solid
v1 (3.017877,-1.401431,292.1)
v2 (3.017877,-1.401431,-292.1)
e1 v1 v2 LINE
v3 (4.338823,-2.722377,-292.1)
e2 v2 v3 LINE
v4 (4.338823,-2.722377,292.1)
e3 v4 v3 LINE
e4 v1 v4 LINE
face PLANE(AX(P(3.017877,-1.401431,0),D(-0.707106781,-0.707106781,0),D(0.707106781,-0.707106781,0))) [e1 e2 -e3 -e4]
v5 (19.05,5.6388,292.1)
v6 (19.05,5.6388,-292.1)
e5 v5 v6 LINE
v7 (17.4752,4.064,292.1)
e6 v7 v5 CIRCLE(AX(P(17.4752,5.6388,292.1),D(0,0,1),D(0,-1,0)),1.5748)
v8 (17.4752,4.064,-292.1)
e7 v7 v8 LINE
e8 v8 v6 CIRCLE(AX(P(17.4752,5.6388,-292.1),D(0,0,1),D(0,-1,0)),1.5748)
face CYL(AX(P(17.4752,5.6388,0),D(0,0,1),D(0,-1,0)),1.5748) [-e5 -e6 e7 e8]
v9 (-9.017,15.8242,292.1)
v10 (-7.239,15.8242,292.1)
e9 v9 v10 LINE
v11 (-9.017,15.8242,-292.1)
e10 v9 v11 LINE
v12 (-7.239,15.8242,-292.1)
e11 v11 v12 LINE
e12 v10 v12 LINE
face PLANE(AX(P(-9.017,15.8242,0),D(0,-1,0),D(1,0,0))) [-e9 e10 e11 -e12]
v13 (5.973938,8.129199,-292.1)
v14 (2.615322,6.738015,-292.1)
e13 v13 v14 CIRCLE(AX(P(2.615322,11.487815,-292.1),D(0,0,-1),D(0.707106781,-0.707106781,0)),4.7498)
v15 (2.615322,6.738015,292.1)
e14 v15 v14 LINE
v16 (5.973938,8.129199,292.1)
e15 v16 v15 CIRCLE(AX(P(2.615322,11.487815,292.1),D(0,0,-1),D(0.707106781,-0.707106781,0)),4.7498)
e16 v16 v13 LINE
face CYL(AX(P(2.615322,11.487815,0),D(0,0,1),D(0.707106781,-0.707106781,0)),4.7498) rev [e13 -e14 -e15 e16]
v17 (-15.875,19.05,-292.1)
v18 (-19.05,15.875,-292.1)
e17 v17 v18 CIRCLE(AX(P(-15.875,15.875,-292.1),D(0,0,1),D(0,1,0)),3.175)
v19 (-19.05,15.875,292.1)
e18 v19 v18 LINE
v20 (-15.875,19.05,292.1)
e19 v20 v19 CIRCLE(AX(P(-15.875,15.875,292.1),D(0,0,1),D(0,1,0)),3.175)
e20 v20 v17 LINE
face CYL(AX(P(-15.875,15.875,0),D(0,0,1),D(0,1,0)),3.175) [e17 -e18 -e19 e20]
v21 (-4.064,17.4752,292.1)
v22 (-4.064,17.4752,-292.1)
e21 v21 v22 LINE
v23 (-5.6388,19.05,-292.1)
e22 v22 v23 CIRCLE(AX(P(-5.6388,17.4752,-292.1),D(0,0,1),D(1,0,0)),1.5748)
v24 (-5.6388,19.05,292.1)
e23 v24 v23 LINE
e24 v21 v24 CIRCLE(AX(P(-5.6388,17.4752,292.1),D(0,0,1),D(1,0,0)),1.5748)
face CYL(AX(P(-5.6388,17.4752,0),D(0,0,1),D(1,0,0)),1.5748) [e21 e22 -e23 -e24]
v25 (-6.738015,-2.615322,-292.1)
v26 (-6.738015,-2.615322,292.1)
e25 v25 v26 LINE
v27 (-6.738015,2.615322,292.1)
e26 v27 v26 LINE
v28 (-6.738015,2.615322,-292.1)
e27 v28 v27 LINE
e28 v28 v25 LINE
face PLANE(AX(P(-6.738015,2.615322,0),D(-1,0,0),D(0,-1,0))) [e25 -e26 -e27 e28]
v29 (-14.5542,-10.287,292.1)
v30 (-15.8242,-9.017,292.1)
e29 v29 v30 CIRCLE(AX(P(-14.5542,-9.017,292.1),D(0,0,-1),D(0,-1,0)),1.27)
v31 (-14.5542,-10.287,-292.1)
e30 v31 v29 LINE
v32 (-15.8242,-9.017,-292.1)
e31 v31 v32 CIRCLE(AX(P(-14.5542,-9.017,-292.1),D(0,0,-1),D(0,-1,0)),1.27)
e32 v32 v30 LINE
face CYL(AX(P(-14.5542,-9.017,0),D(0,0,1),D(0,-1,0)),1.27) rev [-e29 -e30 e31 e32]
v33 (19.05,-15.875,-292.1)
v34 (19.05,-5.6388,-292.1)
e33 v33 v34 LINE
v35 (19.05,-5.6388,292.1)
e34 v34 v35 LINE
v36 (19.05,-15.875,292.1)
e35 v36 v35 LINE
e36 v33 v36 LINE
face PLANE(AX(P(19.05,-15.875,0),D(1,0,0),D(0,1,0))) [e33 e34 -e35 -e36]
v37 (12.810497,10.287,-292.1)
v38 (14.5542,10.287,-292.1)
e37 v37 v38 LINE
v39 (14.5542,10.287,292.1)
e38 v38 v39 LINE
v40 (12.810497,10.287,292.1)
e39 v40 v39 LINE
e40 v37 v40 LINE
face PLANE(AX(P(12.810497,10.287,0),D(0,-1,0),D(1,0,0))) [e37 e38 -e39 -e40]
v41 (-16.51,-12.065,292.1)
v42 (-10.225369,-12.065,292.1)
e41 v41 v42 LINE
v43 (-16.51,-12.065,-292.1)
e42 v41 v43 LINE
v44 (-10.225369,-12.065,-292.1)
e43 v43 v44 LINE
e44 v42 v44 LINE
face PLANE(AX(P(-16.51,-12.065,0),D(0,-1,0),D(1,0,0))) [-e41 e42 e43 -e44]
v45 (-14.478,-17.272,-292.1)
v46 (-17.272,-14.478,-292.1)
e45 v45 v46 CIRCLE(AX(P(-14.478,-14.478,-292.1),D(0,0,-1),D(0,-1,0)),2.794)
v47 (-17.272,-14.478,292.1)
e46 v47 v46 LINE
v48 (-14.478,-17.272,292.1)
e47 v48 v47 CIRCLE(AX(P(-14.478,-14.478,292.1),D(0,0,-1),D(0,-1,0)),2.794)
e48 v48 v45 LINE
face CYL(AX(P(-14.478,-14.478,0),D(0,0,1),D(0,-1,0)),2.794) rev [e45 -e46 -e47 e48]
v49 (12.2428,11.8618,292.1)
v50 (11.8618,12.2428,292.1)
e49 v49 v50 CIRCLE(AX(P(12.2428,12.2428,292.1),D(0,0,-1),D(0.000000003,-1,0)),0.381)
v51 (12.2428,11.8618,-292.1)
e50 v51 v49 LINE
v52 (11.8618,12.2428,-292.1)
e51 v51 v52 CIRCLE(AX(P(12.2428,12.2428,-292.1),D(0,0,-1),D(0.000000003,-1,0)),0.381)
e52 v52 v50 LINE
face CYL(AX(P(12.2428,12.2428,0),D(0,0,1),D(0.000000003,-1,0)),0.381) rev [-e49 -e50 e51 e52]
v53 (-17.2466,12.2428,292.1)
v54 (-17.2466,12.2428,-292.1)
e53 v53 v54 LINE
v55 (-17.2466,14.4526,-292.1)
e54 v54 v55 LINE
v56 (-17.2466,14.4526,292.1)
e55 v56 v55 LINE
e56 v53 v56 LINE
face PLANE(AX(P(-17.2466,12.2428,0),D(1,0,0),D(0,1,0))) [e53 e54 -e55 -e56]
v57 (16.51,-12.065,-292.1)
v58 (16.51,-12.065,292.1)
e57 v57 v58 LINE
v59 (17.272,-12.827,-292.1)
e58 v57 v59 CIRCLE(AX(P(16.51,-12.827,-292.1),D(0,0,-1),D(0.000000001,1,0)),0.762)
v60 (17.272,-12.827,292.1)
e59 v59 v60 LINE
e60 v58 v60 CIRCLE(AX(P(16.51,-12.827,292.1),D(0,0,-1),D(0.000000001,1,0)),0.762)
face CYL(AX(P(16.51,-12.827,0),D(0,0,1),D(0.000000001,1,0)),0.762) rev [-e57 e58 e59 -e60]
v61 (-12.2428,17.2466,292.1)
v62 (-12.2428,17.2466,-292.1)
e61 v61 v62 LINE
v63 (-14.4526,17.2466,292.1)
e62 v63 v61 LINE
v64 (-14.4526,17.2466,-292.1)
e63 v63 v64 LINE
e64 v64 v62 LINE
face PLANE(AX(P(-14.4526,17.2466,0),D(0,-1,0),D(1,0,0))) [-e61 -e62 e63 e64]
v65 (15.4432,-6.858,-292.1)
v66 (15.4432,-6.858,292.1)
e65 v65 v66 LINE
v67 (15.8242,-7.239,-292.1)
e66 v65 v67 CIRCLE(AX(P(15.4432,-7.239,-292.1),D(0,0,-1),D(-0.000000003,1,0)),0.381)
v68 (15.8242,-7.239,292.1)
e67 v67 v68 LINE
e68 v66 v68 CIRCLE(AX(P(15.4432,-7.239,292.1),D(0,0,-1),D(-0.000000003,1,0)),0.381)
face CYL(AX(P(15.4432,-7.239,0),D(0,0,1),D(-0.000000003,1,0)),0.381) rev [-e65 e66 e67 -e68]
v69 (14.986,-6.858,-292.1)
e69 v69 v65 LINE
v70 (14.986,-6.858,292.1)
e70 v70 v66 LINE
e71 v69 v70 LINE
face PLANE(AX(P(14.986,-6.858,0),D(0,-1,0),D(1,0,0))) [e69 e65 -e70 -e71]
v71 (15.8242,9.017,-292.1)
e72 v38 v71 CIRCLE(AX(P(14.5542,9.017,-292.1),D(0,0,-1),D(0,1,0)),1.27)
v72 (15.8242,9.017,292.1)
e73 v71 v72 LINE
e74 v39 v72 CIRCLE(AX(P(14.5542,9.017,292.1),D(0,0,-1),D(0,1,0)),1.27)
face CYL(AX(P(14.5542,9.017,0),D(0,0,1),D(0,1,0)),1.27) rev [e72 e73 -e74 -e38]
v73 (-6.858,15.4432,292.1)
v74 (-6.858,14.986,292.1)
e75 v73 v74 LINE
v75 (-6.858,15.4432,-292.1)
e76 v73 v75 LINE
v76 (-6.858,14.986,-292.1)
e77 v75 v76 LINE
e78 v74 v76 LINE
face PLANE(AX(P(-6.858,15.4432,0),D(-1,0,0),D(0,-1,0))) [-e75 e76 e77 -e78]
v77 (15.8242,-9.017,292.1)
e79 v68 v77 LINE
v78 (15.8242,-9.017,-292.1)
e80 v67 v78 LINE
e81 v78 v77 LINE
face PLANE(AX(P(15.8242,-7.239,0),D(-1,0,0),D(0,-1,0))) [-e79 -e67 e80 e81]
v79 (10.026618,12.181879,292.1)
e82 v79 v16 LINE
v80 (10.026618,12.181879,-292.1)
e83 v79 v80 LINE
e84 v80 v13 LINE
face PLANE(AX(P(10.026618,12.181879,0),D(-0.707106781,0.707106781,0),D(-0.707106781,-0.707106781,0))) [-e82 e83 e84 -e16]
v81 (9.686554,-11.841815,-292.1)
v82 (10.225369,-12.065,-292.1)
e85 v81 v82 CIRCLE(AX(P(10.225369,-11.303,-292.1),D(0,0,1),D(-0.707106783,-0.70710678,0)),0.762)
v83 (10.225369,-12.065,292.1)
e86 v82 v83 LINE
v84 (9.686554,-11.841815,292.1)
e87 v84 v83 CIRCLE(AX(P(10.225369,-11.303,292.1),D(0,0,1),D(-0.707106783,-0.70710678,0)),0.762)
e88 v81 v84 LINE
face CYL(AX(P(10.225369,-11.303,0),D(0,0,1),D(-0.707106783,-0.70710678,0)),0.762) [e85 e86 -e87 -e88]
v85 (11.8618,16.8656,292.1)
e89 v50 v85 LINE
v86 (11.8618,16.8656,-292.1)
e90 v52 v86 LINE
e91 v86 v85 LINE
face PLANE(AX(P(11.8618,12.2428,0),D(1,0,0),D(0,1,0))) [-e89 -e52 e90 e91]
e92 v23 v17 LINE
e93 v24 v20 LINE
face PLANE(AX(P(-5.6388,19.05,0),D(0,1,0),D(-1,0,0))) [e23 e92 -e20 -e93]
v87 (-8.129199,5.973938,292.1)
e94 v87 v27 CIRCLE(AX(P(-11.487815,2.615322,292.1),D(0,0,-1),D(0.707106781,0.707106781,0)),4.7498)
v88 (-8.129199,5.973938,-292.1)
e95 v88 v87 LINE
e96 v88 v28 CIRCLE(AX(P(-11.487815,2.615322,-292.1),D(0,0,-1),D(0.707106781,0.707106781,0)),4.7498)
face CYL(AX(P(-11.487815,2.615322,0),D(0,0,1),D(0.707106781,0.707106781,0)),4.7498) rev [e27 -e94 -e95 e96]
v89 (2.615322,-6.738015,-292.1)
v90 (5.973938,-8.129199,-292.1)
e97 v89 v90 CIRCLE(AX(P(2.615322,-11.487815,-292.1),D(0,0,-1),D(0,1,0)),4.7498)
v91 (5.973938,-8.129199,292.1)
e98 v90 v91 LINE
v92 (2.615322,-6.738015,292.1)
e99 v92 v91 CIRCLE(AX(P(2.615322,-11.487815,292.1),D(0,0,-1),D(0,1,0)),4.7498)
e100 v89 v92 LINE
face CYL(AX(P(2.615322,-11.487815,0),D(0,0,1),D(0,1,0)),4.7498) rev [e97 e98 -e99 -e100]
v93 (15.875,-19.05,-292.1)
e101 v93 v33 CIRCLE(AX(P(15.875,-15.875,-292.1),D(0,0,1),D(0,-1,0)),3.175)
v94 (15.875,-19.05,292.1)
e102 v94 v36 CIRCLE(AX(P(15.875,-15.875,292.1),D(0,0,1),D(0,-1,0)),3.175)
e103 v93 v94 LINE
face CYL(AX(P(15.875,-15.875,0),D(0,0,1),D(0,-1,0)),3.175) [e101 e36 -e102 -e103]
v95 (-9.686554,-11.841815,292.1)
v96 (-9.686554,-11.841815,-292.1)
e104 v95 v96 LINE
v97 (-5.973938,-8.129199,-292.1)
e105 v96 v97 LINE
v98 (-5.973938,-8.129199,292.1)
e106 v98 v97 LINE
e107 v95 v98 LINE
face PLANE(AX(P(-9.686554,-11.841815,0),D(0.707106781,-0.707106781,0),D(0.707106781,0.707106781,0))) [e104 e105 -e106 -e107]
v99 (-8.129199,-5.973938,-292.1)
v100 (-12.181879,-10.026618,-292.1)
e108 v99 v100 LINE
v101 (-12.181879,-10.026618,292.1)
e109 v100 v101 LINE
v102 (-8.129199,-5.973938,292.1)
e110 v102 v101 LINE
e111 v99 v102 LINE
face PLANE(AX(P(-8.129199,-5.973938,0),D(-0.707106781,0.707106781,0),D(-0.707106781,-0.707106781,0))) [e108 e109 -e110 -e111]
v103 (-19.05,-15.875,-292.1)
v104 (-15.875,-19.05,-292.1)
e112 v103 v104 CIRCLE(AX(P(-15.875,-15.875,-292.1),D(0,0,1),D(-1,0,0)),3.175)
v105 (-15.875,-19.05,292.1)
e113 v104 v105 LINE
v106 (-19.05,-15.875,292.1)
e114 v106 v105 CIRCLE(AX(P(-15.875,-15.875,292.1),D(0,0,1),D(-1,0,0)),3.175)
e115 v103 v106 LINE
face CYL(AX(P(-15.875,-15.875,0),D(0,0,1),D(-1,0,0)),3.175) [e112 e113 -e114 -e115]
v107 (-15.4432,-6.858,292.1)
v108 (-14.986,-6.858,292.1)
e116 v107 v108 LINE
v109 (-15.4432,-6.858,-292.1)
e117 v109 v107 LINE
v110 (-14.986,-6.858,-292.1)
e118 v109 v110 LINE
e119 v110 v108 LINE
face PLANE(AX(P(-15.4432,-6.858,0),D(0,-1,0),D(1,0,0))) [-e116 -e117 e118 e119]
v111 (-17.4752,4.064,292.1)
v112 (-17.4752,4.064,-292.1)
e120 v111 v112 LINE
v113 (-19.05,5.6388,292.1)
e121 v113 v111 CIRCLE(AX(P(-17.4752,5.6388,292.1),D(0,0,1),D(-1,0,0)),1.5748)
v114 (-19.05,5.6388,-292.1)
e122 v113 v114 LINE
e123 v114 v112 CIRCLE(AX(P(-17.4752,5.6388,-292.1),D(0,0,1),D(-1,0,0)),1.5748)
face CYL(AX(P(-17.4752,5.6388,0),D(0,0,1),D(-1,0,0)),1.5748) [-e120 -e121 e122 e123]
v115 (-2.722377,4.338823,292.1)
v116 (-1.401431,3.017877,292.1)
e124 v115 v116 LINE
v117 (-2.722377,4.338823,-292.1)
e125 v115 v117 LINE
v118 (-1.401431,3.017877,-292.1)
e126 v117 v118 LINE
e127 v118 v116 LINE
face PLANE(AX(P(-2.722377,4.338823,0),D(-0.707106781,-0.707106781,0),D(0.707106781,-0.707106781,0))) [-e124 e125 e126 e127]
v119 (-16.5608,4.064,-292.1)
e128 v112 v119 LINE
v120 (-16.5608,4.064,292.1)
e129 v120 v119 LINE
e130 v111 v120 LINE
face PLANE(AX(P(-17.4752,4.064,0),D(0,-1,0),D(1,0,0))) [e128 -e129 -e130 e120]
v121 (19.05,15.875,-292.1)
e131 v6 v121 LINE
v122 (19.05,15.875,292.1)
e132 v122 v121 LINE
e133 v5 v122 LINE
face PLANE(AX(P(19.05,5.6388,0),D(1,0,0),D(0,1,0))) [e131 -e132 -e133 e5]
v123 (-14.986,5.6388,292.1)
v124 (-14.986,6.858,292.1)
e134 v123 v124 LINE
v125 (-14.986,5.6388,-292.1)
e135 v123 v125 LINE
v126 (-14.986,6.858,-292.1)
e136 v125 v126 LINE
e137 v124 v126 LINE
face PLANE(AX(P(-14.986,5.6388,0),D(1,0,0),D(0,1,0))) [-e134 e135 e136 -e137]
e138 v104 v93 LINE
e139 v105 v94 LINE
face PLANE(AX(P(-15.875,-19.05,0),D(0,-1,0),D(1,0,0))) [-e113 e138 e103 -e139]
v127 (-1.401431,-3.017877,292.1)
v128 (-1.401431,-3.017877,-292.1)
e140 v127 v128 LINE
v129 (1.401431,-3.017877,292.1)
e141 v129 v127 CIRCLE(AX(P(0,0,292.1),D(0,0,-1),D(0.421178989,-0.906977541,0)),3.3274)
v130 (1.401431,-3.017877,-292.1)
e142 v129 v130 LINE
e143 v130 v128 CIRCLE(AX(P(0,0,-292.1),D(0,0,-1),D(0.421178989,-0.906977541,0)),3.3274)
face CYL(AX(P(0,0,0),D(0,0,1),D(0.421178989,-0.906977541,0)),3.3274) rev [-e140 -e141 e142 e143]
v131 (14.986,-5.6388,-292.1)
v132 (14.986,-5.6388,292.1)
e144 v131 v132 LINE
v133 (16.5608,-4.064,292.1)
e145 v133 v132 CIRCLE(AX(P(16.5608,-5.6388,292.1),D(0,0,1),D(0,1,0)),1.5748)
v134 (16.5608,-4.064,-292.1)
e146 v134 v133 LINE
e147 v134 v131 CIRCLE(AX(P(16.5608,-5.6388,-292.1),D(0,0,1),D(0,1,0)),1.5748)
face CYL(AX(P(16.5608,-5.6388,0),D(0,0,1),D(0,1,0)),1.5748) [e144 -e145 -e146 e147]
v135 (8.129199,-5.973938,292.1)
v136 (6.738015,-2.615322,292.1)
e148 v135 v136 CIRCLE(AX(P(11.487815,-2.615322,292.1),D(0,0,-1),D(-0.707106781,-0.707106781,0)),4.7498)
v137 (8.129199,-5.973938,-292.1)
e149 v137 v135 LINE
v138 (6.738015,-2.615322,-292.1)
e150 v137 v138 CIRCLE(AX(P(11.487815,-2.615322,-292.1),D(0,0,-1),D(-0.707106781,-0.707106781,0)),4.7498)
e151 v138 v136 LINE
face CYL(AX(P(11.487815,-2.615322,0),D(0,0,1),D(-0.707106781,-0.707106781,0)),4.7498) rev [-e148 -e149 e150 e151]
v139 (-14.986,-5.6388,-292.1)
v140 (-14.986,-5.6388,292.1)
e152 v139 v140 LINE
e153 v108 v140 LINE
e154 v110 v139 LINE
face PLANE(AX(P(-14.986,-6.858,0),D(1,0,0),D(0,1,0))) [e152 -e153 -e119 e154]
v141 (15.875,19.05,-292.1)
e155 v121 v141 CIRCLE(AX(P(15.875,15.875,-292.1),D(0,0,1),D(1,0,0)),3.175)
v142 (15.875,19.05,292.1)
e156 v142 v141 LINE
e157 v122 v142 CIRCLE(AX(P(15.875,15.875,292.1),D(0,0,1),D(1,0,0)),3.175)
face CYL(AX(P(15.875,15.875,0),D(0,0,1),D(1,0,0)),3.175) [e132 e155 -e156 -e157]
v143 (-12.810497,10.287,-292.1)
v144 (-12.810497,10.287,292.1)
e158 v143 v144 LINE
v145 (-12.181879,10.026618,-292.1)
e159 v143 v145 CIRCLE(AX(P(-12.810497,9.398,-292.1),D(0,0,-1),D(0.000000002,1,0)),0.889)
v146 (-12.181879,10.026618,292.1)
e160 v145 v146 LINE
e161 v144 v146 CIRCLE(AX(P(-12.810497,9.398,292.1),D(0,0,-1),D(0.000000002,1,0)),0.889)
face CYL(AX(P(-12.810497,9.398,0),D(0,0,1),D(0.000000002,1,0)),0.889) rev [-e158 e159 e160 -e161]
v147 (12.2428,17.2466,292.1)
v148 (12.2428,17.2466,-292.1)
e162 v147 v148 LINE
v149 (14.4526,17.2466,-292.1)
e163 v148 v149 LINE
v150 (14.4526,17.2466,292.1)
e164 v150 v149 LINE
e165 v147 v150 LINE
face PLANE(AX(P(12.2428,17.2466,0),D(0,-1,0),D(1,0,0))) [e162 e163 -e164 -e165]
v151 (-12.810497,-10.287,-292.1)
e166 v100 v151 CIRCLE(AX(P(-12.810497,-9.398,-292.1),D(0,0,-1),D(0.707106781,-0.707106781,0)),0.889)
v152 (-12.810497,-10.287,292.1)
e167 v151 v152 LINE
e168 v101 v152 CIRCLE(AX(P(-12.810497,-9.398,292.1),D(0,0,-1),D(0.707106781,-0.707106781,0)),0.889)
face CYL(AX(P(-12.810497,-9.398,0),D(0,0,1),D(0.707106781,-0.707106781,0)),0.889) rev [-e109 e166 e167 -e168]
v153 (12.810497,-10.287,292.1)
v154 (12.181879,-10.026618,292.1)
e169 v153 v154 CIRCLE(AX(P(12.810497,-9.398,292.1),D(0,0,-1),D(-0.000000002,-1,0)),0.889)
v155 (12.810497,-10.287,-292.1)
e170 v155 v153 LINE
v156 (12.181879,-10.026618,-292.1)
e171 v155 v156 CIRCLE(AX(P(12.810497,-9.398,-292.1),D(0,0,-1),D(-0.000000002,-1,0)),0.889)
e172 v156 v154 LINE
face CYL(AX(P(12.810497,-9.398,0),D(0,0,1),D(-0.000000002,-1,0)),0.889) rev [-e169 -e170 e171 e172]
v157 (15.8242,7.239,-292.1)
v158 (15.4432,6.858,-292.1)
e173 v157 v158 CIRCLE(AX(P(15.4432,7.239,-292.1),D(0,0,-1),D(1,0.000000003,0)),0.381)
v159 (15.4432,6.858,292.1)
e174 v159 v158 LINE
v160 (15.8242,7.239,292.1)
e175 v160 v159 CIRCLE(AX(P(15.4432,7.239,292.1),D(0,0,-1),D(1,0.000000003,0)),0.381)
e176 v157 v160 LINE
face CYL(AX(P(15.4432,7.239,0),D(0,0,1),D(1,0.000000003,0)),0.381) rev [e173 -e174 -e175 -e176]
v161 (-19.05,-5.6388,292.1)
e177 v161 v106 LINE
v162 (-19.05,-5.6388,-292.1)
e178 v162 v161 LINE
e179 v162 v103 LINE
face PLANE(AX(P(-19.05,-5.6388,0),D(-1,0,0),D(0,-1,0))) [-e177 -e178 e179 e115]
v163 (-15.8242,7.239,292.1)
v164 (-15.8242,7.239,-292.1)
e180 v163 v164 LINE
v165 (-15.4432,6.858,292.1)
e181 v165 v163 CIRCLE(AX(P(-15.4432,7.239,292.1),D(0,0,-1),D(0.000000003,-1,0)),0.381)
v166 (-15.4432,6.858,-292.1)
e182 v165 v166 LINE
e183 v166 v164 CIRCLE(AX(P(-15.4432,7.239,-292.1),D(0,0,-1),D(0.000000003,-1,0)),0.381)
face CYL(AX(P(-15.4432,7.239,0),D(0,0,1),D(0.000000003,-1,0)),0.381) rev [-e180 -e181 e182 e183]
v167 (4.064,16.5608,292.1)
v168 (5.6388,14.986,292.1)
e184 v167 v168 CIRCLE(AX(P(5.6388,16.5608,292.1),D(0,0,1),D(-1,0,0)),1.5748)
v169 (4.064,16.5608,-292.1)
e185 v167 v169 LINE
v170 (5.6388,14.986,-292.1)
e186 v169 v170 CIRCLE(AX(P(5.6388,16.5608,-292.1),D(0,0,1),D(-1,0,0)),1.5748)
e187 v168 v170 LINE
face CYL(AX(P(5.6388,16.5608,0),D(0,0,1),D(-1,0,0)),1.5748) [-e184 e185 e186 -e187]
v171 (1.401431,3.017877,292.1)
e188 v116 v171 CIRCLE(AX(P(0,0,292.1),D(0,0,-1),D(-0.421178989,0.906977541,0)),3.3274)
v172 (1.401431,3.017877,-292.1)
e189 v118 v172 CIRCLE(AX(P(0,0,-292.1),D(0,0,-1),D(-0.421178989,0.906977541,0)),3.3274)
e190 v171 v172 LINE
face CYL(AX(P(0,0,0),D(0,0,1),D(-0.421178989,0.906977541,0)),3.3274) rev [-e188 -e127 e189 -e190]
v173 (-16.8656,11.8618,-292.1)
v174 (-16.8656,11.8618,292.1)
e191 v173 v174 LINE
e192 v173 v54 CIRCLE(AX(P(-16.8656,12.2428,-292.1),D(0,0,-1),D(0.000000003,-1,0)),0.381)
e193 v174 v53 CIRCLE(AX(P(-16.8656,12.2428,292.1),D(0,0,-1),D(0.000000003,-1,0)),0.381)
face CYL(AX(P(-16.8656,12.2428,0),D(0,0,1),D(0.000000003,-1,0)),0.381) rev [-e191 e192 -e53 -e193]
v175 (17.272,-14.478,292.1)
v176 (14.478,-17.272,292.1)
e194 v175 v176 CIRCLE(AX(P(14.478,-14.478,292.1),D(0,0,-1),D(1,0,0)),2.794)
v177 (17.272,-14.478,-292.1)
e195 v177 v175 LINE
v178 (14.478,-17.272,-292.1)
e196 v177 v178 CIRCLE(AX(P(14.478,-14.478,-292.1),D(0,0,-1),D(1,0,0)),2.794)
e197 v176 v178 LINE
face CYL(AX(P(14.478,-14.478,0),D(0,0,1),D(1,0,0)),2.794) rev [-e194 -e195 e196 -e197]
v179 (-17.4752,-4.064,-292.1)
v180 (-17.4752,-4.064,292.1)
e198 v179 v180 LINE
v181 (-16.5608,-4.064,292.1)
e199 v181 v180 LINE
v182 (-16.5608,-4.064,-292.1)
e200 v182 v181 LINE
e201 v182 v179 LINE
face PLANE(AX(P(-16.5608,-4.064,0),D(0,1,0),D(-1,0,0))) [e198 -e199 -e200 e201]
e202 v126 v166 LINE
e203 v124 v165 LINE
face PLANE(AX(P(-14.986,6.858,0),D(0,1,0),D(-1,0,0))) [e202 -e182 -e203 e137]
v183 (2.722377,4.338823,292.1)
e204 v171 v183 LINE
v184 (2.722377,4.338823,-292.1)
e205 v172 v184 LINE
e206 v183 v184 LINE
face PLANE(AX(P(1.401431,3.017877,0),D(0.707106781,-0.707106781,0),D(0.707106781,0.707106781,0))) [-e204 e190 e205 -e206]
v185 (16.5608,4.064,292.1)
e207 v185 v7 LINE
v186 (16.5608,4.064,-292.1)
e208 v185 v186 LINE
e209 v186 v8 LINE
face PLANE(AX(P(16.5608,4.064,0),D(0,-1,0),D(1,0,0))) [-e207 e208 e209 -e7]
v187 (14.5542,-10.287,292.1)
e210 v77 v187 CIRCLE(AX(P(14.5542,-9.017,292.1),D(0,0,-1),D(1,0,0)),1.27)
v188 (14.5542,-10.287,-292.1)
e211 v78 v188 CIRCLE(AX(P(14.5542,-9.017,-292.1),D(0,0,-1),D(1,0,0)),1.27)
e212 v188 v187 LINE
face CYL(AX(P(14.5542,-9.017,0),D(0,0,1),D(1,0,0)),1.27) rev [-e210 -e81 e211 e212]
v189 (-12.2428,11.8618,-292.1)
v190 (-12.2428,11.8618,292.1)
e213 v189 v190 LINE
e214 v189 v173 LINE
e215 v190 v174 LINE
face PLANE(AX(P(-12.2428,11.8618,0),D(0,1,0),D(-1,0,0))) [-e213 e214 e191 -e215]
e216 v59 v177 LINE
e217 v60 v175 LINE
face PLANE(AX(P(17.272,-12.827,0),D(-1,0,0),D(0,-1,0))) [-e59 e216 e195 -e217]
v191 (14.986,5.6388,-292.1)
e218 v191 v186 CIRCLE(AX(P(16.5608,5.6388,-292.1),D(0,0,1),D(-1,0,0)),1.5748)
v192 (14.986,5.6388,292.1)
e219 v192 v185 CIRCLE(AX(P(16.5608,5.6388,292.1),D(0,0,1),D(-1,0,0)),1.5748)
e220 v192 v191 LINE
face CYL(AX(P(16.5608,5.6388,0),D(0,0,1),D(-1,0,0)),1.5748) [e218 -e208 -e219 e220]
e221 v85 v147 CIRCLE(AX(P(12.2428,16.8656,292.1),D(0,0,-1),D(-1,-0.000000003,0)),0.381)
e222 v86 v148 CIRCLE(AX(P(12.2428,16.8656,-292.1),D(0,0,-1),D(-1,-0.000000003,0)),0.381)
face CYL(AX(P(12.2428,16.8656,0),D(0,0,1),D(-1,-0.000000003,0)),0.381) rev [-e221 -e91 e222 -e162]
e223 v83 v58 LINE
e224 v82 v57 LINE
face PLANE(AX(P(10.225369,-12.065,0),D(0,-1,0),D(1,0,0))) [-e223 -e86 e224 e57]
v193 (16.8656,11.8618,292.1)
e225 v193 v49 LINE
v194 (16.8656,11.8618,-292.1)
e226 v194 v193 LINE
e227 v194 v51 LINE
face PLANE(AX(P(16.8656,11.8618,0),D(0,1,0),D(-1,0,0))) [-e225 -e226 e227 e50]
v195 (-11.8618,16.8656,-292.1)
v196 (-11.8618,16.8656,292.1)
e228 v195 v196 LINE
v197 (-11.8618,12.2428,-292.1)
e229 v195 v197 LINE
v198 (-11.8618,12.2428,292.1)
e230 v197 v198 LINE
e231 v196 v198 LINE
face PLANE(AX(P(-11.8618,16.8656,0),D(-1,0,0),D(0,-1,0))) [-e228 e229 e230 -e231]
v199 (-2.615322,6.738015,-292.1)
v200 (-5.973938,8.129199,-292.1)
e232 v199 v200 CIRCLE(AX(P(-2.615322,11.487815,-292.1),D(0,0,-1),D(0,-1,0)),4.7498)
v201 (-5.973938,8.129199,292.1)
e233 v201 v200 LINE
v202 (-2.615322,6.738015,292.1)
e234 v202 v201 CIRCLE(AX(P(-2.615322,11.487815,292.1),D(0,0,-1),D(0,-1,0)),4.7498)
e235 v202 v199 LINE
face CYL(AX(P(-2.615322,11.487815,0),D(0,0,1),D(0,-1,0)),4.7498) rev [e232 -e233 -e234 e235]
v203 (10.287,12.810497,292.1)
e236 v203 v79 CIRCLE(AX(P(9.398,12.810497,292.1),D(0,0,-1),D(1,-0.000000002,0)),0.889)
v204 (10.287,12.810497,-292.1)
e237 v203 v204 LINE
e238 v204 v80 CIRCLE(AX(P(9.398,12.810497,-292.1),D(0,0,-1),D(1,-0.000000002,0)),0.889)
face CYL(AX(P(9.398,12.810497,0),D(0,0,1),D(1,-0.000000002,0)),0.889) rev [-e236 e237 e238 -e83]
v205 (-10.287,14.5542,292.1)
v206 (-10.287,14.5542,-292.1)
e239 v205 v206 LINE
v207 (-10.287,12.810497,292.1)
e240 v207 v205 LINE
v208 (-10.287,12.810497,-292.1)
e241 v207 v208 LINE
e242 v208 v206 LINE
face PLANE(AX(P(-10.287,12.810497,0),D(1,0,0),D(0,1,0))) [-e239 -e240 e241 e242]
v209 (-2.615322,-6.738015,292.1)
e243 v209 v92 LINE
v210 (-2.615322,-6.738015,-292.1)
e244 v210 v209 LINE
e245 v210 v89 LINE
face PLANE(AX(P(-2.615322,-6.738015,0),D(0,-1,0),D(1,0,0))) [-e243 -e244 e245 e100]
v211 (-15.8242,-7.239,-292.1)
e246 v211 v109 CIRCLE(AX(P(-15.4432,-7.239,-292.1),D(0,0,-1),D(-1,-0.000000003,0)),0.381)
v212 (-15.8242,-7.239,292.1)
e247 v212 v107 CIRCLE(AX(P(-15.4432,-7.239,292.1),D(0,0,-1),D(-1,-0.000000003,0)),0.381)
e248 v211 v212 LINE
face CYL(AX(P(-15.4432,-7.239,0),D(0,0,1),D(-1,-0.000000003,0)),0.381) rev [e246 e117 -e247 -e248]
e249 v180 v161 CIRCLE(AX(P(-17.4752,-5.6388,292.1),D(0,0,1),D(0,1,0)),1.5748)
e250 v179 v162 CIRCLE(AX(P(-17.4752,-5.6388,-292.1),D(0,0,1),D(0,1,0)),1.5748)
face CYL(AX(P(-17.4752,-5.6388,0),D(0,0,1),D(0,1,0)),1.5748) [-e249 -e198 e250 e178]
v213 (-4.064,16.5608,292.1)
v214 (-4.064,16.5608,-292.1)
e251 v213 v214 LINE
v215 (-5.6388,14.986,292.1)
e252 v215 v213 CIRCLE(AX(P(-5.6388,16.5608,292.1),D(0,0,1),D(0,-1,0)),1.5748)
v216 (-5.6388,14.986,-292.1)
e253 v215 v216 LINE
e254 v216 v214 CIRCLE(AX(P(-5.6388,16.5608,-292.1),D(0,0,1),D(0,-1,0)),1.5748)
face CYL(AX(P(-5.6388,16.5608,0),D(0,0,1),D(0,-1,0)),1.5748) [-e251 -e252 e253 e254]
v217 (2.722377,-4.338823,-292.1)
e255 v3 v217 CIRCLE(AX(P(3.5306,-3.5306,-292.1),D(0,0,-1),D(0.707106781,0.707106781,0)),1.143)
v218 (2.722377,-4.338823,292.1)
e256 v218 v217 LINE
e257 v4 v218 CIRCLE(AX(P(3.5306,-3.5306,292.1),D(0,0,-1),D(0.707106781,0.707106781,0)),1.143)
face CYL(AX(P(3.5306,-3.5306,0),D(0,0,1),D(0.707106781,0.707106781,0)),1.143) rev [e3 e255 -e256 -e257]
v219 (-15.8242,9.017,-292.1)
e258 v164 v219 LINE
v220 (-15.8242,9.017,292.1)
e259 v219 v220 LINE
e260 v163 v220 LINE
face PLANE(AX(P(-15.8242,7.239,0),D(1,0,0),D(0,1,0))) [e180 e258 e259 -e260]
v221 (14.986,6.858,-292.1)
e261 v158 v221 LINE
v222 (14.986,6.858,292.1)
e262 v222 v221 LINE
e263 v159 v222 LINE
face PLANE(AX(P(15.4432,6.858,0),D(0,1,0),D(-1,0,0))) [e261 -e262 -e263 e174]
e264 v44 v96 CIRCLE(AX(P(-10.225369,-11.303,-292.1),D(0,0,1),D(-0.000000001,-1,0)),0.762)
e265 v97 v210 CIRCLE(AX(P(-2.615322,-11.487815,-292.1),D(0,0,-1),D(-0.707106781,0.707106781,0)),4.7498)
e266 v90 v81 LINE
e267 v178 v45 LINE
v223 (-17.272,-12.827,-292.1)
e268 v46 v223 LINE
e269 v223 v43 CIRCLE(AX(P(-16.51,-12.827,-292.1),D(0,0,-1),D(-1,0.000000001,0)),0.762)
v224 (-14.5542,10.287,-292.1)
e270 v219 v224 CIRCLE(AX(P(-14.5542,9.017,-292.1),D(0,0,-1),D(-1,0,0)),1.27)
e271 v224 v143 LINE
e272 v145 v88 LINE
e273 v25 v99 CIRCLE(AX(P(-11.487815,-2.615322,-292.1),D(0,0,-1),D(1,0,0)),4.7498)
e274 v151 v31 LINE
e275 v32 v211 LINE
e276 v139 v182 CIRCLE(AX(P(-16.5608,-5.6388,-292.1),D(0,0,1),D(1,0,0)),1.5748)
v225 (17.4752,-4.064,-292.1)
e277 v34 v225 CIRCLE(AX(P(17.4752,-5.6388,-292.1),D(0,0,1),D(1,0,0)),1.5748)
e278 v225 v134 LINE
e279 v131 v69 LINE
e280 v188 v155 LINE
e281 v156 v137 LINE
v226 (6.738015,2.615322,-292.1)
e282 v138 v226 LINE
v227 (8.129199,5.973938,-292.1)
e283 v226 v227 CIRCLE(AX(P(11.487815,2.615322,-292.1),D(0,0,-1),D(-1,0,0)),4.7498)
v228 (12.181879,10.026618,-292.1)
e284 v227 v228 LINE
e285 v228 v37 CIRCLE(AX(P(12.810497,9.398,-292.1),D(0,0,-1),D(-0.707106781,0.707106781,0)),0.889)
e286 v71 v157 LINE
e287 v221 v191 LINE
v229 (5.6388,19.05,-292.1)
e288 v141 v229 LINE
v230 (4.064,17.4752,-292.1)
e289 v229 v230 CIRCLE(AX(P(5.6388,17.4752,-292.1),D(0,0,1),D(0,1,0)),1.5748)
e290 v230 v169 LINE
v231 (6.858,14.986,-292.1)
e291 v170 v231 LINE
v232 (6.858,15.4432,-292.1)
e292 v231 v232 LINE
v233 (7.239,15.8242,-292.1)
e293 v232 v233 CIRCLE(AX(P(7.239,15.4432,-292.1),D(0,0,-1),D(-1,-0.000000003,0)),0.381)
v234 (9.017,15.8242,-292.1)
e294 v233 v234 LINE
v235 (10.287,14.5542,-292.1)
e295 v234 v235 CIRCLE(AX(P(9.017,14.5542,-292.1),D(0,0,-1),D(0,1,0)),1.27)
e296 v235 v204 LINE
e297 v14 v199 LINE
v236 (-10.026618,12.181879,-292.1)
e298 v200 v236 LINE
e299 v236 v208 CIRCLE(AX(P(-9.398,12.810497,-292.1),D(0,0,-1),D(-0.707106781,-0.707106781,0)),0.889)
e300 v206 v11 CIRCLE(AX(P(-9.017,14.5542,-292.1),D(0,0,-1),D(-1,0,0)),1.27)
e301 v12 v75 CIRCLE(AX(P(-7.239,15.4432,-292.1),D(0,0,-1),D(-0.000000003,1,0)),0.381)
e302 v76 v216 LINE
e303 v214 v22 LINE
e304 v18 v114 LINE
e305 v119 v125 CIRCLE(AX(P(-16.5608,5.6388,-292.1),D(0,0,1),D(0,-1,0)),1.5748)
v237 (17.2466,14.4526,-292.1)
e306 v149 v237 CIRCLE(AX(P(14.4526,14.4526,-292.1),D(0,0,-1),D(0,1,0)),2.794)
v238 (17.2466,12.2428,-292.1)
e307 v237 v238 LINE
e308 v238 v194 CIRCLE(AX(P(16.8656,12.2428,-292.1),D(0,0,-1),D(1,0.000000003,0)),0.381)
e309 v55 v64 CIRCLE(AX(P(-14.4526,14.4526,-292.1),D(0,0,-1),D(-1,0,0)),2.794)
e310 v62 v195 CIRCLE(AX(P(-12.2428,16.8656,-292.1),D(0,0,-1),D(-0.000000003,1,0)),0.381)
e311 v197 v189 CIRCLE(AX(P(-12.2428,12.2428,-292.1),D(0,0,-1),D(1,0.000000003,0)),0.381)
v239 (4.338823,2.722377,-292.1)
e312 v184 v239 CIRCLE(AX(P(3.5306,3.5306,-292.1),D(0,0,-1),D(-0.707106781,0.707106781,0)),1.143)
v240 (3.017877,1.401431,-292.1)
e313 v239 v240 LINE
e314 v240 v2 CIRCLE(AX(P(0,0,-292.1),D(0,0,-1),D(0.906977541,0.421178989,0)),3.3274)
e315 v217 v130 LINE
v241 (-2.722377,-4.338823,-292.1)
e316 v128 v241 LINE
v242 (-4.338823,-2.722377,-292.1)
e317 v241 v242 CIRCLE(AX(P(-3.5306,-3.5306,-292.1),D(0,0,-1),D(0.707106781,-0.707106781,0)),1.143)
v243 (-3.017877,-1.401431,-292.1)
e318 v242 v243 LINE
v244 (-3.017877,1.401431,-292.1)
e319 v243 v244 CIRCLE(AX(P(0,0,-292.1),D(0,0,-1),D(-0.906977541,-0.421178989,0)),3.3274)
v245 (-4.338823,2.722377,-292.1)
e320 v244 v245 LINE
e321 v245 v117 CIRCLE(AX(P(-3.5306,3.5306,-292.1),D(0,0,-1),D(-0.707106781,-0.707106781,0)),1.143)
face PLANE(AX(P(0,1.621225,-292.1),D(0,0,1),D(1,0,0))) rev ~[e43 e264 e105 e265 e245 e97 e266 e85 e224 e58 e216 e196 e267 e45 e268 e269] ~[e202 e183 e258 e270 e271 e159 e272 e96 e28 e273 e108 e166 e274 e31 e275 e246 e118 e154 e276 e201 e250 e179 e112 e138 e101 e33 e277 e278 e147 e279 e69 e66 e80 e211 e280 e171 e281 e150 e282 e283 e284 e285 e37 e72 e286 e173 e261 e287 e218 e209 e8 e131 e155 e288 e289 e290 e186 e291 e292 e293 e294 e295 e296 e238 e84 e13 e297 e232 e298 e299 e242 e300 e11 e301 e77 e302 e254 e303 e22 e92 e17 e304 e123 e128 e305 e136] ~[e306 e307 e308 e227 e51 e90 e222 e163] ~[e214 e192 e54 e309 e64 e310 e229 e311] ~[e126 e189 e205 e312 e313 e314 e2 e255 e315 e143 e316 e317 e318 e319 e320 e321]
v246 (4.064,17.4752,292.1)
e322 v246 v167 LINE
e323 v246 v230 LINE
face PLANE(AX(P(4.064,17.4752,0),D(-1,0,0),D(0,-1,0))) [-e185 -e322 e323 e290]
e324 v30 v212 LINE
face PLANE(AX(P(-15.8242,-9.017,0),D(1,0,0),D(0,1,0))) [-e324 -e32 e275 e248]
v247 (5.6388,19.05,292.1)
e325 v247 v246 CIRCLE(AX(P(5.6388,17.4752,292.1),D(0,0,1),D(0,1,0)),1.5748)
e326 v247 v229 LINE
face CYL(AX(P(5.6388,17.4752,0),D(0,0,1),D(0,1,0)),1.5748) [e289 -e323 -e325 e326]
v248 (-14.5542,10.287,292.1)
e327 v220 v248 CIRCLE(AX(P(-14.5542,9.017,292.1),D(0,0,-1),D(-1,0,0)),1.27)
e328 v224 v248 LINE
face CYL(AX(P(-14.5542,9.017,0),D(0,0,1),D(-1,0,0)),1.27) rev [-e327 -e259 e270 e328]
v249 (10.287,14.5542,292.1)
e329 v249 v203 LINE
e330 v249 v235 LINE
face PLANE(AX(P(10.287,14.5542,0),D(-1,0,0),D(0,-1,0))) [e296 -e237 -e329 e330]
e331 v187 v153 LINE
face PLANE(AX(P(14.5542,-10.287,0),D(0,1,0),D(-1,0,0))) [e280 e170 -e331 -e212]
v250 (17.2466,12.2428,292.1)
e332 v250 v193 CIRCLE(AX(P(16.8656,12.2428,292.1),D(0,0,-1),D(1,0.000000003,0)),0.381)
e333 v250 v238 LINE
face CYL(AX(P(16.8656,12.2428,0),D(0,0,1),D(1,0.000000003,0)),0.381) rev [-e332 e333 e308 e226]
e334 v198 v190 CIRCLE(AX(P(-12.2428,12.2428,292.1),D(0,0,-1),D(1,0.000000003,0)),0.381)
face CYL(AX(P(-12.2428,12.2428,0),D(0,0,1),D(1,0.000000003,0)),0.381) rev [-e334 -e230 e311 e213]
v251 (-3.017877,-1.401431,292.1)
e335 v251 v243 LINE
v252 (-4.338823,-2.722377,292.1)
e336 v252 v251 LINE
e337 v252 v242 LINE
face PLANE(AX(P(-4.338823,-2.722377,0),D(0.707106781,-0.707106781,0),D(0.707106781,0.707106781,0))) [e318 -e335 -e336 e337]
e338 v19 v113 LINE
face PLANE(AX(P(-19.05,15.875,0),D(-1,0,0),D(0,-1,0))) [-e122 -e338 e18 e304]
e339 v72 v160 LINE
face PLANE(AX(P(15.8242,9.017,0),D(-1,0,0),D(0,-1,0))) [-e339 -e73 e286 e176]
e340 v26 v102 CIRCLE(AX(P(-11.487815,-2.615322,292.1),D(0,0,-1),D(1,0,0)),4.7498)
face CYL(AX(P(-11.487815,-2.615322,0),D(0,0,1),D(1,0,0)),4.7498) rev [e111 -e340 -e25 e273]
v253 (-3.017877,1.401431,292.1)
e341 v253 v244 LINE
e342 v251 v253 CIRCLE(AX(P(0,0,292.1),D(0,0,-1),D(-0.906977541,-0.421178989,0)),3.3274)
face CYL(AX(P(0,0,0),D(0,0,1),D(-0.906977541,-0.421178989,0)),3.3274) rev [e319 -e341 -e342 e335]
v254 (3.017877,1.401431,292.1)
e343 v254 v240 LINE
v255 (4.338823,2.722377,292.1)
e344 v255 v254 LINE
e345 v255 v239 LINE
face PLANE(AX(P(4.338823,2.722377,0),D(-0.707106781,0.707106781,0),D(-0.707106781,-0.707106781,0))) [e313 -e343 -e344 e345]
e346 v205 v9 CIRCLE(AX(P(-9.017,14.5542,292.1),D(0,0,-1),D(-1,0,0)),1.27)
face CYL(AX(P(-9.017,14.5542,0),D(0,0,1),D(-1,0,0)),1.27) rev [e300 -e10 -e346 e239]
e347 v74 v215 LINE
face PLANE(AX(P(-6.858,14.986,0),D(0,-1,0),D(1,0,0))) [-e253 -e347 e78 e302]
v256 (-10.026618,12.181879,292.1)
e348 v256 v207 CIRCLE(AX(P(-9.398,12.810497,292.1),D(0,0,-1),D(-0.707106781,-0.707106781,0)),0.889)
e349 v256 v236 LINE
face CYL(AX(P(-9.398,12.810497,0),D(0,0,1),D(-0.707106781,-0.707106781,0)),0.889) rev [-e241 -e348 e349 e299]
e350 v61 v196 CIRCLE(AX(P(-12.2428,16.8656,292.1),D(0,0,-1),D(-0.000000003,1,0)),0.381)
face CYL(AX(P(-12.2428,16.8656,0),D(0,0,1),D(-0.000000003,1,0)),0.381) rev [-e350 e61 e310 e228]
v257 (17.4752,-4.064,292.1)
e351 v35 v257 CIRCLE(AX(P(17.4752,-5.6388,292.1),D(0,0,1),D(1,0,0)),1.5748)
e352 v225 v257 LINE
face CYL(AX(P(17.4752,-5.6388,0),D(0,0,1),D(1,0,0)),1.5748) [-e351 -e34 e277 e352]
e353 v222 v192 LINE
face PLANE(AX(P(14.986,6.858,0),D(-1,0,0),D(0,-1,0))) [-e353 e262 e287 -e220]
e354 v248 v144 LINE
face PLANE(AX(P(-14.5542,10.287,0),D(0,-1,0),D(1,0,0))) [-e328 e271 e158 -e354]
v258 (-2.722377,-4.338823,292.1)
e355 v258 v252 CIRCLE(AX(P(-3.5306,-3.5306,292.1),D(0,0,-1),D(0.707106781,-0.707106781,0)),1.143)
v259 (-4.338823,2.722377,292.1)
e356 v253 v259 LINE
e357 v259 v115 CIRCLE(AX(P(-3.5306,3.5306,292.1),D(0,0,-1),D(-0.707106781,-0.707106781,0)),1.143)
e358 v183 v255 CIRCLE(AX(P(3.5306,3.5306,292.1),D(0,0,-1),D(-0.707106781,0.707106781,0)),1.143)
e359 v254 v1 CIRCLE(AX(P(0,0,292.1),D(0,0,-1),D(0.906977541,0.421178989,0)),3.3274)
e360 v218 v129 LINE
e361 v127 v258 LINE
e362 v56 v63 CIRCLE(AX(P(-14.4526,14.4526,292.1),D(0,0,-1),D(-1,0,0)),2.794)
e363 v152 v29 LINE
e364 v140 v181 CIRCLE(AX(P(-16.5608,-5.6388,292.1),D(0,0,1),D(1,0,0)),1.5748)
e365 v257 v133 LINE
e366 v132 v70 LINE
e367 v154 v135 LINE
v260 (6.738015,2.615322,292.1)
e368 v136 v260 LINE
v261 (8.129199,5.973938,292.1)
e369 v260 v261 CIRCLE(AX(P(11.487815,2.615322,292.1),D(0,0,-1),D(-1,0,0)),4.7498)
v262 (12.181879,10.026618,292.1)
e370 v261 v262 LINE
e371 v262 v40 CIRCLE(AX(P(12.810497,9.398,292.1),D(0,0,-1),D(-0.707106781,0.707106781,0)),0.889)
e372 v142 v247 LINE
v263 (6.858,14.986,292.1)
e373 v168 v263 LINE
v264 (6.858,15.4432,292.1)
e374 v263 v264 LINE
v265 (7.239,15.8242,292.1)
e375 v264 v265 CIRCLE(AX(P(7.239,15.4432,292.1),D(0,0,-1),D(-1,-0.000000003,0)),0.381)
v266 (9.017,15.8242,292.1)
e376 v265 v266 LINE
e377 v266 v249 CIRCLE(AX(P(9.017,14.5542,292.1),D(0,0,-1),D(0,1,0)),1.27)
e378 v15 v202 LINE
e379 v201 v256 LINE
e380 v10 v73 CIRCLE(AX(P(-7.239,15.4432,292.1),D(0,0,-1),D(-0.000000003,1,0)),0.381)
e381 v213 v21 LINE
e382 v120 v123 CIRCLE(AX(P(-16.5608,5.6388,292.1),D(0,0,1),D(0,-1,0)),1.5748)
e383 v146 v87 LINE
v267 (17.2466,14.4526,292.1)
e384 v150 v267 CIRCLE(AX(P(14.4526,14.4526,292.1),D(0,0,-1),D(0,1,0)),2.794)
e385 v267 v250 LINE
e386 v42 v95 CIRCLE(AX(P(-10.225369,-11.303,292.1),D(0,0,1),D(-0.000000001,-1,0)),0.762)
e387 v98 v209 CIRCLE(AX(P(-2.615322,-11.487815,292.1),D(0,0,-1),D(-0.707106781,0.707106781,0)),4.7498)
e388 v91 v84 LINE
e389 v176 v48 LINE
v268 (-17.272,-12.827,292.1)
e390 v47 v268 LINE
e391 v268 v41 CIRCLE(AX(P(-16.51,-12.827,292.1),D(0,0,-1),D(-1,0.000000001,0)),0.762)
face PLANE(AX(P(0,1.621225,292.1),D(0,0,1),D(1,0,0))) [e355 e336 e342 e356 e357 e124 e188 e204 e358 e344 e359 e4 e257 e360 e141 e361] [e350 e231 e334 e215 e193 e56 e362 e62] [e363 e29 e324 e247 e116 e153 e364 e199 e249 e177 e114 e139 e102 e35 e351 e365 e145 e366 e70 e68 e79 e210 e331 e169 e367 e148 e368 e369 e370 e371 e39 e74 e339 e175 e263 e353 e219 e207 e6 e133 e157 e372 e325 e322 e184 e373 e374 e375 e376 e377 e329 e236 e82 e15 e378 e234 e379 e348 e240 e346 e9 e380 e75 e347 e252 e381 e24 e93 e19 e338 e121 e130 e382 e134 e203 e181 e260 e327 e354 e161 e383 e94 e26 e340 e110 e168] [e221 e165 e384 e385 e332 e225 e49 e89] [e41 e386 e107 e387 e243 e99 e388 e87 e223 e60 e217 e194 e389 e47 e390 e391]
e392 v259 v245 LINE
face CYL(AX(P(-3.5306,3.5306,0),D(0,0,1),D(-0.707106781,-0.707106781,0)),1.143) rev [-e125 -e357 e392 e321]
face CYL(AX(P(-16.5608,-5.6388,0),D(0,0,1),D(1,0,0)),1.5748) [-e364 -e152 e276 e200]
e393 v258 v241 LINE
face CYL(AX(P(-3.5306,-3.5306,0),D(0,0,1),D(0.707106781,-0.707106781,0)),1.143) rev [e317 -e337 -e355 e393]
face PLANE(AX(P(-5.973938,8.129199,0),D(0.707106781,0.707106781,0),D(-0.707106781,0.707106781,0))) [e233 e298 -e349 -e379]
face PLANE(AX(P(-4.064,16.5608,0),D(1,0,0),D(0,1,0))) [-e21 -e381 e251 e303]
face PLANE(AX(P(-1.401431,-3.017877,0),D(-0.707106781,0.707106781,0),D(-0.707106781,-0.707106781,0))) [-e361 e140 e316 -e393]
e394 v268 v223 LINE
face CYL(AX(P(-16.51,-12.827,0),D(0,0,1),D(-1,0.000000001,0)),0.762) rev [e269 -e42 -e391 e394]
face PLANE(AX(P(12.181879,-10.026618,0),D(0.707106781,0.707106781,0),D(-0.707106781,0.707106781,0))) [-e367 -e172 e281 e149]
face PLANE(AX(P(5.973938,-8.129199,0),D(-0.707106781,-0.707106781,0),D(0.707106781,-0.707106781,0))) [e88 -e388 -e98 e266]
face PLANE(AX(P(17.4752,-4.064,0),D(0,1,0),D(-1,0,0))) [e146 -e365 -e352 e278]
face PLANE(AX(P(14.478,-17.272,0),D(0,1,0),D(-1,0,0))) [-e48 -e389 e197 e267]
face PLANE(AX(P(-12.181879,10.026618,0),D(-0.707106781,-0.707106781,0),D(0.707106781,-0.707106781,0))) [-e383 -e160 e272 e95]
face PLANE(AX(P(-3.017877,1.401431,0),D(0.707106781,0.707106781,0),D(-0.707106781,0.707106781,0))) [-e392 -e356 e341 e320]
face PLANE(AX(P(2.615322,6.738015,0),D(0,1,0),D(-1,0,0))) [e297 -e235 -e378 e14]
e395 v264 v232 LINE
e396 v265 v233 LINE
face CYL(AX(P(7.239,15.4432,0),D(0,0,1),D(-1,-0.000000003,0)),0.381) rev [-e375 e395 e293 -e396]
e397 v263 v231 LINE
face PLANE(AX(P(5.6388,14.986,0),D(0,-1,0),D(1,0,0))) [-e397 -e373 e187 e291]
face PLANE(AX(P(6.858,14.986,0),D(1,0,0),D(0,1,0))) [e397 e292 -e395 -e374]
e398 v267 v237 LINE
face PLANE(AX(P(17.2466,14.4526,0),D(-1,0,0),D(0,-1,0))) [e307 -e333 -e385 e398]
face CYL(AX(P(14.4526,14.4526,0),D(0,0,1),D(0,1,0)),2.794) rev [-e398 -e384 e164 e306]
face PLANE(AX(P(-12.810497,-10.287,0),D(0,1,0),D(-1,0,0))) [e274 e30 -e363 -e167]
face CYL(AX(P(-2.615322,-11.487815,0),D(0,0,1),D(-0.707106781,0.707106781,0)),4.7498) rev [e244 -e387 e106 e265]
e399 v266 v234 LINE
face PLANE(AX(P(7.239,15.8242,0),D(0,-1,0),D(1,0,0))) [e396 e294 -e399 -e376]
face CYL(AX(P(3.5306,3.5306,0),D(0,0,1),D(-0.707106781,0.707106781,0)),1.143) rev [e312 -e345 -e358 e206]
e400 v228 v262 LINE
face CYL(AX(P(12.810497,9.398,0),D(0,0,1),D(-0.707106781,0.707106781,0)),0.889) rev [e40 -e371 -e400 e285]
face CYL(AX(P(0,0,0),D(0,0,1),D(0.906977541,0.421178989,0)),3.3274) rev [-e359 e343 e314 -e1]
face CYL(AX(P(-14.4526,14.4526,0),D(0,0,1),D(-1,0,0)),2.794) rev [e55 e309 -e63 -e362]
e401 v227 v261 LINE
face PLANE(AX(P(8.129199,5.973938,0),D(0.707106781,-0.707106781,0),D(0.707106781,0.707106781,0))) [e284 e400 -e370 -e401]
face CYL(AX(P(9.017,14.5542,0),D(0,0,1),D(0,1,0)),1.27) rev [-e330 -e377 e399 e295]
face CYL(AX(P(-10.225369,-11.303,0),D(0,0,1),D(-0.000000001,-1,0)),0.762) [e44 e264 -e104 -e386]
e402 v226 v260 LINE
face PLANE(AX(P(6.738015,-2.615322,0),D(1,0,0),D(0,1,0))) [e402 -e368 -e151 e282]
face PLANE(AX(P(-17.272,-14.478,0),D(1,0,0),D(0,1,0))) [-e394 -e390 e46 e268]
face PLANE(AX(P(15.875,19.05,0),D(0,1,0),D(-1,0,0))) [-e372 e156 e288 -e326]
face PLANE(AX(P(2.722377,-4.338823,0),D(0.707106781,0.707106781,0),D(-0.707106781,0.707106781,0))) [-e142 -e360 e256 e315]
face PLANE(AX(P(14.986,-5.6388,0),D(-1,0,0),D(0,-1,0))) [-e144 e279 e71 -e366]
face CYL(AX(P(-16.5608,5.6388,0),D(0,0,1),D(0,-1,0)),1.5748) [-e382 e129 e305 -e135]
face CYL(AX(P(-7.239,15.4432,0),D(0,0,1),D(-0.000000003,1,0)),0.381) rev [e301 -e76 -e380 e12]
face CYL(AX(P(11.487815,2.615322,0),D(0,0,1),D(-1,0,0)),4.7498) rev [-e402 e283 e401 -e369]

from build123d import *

# Parameters (mm, degrees)
EXTRUDE1_DEPTH     = 292.1
F_7060_LEFT_D      = 6.6548
F_7060_LEFT_DEPTH  = 20.1168
F_7060_LEFT_TIP    = 1.999303624
F_7060_RIGHT_D     = 6.6548
F_7060_RIGHT_DEPTH = 20.1168
F_7060_RIGHT_TIP   = 1.999303624


with BuildPart() as part:
    # Sketch1 → Extrude1 (new, symmetric)
    with BuildSketch(Plane.XY):
        with BuildLine():
            Line((-15.8242, 7.239), (-15.8242, 9.017))
            ThreePointArc((-15.8242, 9.017), (-15.452225612, 9.915025612), (-14.5542, 10.287))
            Line((-14.5542, 10.287), (-12.810497326, 10.287))
            ThreePointArc((-12.810497326, 10.287), (-12.470291755, 10.219328904), (-12.181879398, 10.026617928))
            Line((-12.181879398, 10.026617928), (-8.129198975, 5.973937506))
            ThreePointArc((-8.129198975, 5.973937506), (-7.09957176, 4.432991483), (-6.738014764, 2.615321716))
            Line((-6.738014764, 2.615321716), (-6.738014764, -2.615321716))
            ThreePointArc((-6.738014764, -2.615321716), (-7.09957176, -4.432991483), (-8.129198975, -5.973937506))
            Line((-8.129198975, -5.973937506), (-12.181879398, -10.026617928))
            ThreePointArc((-12.181879398, -10.026617928), (-12.470291755, -10.219328904), (-12.810497326, -10.287))
            Line((-12.810497326, -10.287), (-14.5542, -10.287))
            ThreePointArc((-14.5542, -10.287), (-15.452225612, -9.915025612), (-15.8242, -9.017))
            Line((-15.8242, -9.017), (-15.8242, -7.239))
            ThreePointArc((-15.8242, -7.239), (-15.712607684, -6.969592316), (-15.4432, -6.858))
            Line((-15.4432, -6.858), (-14.986, -6.858))
            Line((-14.986, -6.858), (-14.986, -5.6388))
            ThreePointArc((-14.986, -5.6388), (-15.447248241, -4.525248241), (-16.5608, -4.064))
            Line((-16.5608, -4.064), (-17.4752, -4.064))
            ThreePointArc((-17.4752, -4.064), (-18.588751759, -4.525248241), (-19.05, -5.6388))
            Line((-19.05, -5.6388), (-19.05, -15.875))
            ThreePointArc((-19.05, -15.875), (-18.12006403, -18.12006403), (-15.875, -19.05))
            Line((-15.875, -19.05), (15.875, -19.05))
            ThreePointArc((15.875, -19.05), (18.12006403, -18.12006403), (19.05, -15.875))
            Line((19.05, -15.875), (19.05, -5.6388))
            ThreePointArc((19.05, -5.6388), (18.588751759, -4.525248241), (17.4752, -4.064))
            Line((17.4752, -4.064), (16.5608, -4.064))
            ThreePointArc((16.5608, -4.064), (15.447248241, -4.525248241), (14.986, -5.6388))
            Line((14.986, -5.6388), (14.986, -6.858))
            Line((14.986, -6.858), (15.4432, -6.858))
            ThreePointArc((15.4432, -6.858), (15.712607684, -6.969592316), (15.8242, -7.239))
            Line((15.8242, -7.239), (15.8242, -9.017))
            ThreePointArc((15.8242, -9.017), (15.452225612, -9.915025612), (14.5542, -10.287))
            Line((14.5542, -10.287), (12.810497326, -10.287))
            ThreePointArc((12.810497326, -10.287), (12.470291755, -10.219328904), (12.181879398, -10.026617928))
            Line((12.181879398, -10.026617928), (8.129198975, -5.973937506))
            ThreePointArc((8.129198975, -5.973937506), (7.09957176, -4.432991483), (6.738014764, -2.615321716))
            Line((6.738014764, -2.615321716), (6.738014764, 2.615321716))
            ThreePointArc((6.738014764, 2.615321716), (7.09957176, 4.432991483), (8.129198975, 5.973937506))
            Line((8.129198975, 5.973937506), (12.181879398, 10.026617928))
            ThreePointArc((12.181879398, 10.026617928), (12.470291755, 10.219328904), (12.810497326, 10.287))
            Line((12.810497326, 10.287), (14.5542, 10.287))
            ThreePointArc((14.5542, 10.287), (15.452225612, 9.915025612), (15.8242, 9.017))
            Line((15.8242, 9.017), (15.8242, 7.239))
            ThreePointArc((15.8242, 7.239), (15.712607684, 6.969592316), (15.4432, 6.858))
            Line((15.4432, 6.858), (14.986, 6.858))
            Line((14.986, 6.858), (14.986, 5.6388))
            ThreePointArc((14.986, 5.6388), (15.447248241, 4.525248241), (16.5608, 4.064))
            Line((16.5608, 4.064), (17.4752, 4.064))
            ThreePointArc((17.4752, 4.064), (18.588751759, 4.525248241), (19.05, 5.6388))
            Line((19.05, 5.6388), (19.05, 15.875))
            ThreePointArc((19.05, 15.875), (18.12006403, 18.12006403), (15.875, 19.05))
            Line((15.875, 19.05), (5.6388, 19.05))
            ThreePointArc((5.6388, 19.05), (4.525248241, 18.588751759), (4.064, 17.4752))
            Line((4.064, 17.4752), (4.064, 16.5608))
            ThreePointArc((4.064, 16.5608), (4.525248241, 15.447248241), (5.6388, 14.986))
            Line((5.6388, 14.986), (6.858, 14.986))
            Line((6.858, 14.986), (6.858, 15.4432))
            ThreePointArc((6.858, 15.4432), (6.969592316, 15.712607684), (7.239, 15.8242))
            Line((7.239, 15.8242), (9.017, 15.8242))
            ThreePointArc((9.017, 15.8242), (9.915025612, 15.452225612), (10.287, 14.5542))
            Line((10.287, 14.5542), (10.287, 12.810497326))
            ThreePointArc((10.287, 12.810497326), (10.219328904, 12.470291755), (10.026617928, 12.181879398))
            Line((10.026617928, 12.181879398), (5.973937506, 8.129198975))
            ThreePointArc((5.973937506, 8.129198975), (4.432991483, 7.09957176), (2.615321716, 6.738014764))
            Line((2.615321716, 6.738014764), (-2.615321716, 6.738014764))
            ThreePointArc((-2.615321716, 6.738014764), (-4.432991483, 7.09957176), (-5.973937506, 8.129198975))
            Line((-5.973937506, 8.129198975), (-10.026617928, 12.181879398))
            ThreePointArc((-10.026617928, 12.181879398), (-10.219328904, 12.470291755), (-10.287, 12.810497326))
            Line((-10.287, 12.810497326), (-10.287, 14.5542))
            ThreePointArc((-10.287, 14.5542), (-9.915025612, 15.452225612), (-9.017, 15.8242))
            Line((-9.017, 15.8242), (-7.239, 15.8242))
            ThreePointArc((-7.239, 15.8242), (-6.969592316, 15.712607684), (-6.858, 15.4432))
            Line((-6.858, 15.4432), (-6.858, 14.986))
            Line((-6.858, 14.986), (-5.6388, 14.986))
            ThreePointArc((-5.6388, 14.986), (-4.525248241, 15.447248241), (-4.064, 16.5608))
            Line((-4.064, 16.5608), (-4.064, 17.4752))
            ThreePointArc((-4.064, 17.4752), (-4.525248241, 18.588751759), (-5.6388, 19.05))
            Line((-5.6388, 19.05), (-15.875, 19.05))
            ThreePointArc((-15.875, 19.05), (-18.12006403, 18.12006403), (-19.05, 15.875))
            Line((-19.05, 15.875), (-19.05, 5.6388))
            ThreePointArc((-19.05, 5.6388), (-18.588751759, 4.525248241), (-17.4752, 4.064))
            Line((-17.4752, 4.064), (-16.5608, 4.064))
            ThreePointArc((-16.5608, 4.064), (-15.447248241, 4.525248241), (-14.986, 5.6388))
            Line((-14.986, 5.6388), (-14.986, 6.858))
            Line((-14.986, 6.858), (-15.4432, 6.858))
            ThreePointArc((-15.4432, 6.858), (-15.712607684, 6.969592316), (-15.8242, 7.239))
        make_face()
        with BuildLine():
            Line((-2.615321716, -6.738014764), (2.615321716, -6.738014764))
            ThreePointArc((2.615321716, -6.738014764), (4.432991483, -7.09957176), (5.973937506, -8.129198975))
            Line((5.973937506, -8.129198975), (9.686553898, -11.841815367))
            ThreePointArc((9.686553898, -11.841815367), (9.93376449, -12.006996204), (10.225369265, -12.065))
            Line((10.225369265, -12.065), (16.51, -12.065))
            ThreePointArc((16.51, -12.065), (17.048815367, -12.288184633), (17.272, -12.827))
            Line((17.272, -12.827), (17.272, -14.478))
            ThreePointArc((17.272, -14.478), (16.453656347, -16.453656347), (14.478, -17.272))
            Line((14.478, -17.272), (-14.478, -17.272))
            ThreePointArc((-14.478, -17.272), (-16.453656347, -16.453656347), (-17.272, -14.478))
            Line((-17.272, -14.478), (-17.272, -12.827))
            ThreePointArc((-17.272, -12.827), (-17.048815367, -12.288184633), (-16.51, -12.065))
            Line((-16.51, -12.065), (-10.225369265, -12.065))
            ThreePointArc((-10.225369265, -12.065), (-9.93376449, -12.006996204), (-9.686553898, -11.841815367))
            Line((-9.686553898, -11.841815367), (-5.973937506, -8.129198975))
            ThreePointArc((-5.973937506, -8.129198975), (-4.432991483, -7.09957176), (-2.615321716, -6.738014764))
        make_face(mode=Mode.SUBTRACT)
        with BuildLine():
            Line((16.8656, 11.8618), (12.2428, 11.8618))
            ThreePointArc((12.2428, 11.8618), (11.973392316, 11.973392316), (11.8618, 12.2428))
            Line((11.8618, 12.2428), (11.8618, 16.8656))
            ThreePointArc((11.8618, 16.8656), (11.973392316, 17.135007684), (12.2428, 17.2466))
            Line((12.2428, 17.2466), (14.4526, 17.2466))
            ThreePointArc((14.4526, 17.2466), (16.428256347, 16.428256347), (17.2466, 14.4526))
            Line((17.2466, 14.4526), (17.2466, 12.2428))
            ThreePointArc((17.2466, 12.2428), (17.135007684, 11.973392316), (16.8656, 11.8618))
        make_face(mode=Mode.SUBTRACT)
        with BuildLine():
            Line((-11.8618, 16.8656), (-11.8618, 12.2428))
            ThreePointArc((-11.8618, 12.2428), (-11.973392316, 11.973392316), (-12.2428, 11.8618))
            Line((-12.2428, 11.8618), (-16.8656, 11.8618))
            ThreePointArc((-16.8656, 11.8618), (-17.135007684, 11.973392316), (-17.2466, 12.2428))
            Line((-17.2466, 12.2428), (-17.2466, 14.4526))
            ThreePointArc((-17.2466, 14.4526), (-16.428256347, 16.428256347), (-14.4526, 17.2466))
            Line((-14.4526, 17.2466), (-12.2428, 17.2466))
            ThreePointArc((-12.2428, 17.2466), (-11.973392316, 17.135007684), (-11.8618, 16.8656))
        make_face(mode=Mode.SUBTRACT)
        with BuildLine():
            Line((1.401430967, 3.017877069), (2.722376949, 4.338823051))
            ThreePointArc((2.722376949, 4.338823051), (4.338823051, 4.338823051), (4.338823051, 2.722376949))
            Line((4.338823051, 2.722376949), (3.017877069, 1.401430967))
            ThreePointArc((3.017877069, 1.401430967), (3.3274, 0), (3.017877069, -1.401430967))
            Line((3.017877069, -1.401430967), (4.338823051, -2.722376949))
            ThreePointArc((4.338823051, -2.722376949), (4.338823051, -4.338823051), (2.722376949, -4.338823051))
            Line((2.722376949, -4.338823051), (1.401430967, -3.017877069))
            ThreePointArc((1.401430967, -3.017877069), (0, -3.3274), (-1.401430967, -3.017877069))
            Line((-1.401430967, -3.017877069), (-2.722376949, -4.338823051))
            ThreePointArc((-2.722376949, -4.338823051), (-4.338823051, -4.338823051), (-4.338823051, -2.722376949))
            Line((-4.338823051, -2.722376949), (-3.017877069, -1.401430967))
            ThreePointArc((-3.017877069, -1.401430967), (-3.3274, 0), (-3.017877069, 1.401430967))
            Line((-3.017877069, 1.401430967), (-4.338823051, 2.722376949))
            ThreePointArc((-4.338823051, 2.722376949), (-4.338823051, 4.338823051), (-2.722376949, 4.338823051))
            Line((-2.722376949, 4.338823051), (-1.401430967, 3.017877069))
            ThreePointArc((-1.401430967, 3.017877069), (0, 3.3274), (1.401430967, 3.017877069))
        make_face(mode=Mode.SUBTRACT)
    extrude(amount=EXTRUDE1_DEPTH, both=True)

    # 7060-LEFT
    with Locations(Plane.XY.offset(292.1)):
        with Locations((0, 0)):
            Hole(F_7060_LEFT_D / 2, depth=F_7060_LEFT_DEPTH)
            with Locations((0, 0, -(F_7060_LEFT_DEPTH + F_7060_LEFT_TIP / 2))):  # 118° drill point
                Cone(0, F_7060_LEFT_D / 2, F_7060_LEFT_TIP, mode=Mode.SUBTRACT)

    # 7060-RIGHT
    with Locations(Plane(origin=(0, 0, -292.1), x_dir=(-1, 0, 0), z_dir=(0, 0, -1))):
        with Locations((0, 0)):
            Hole(F_7060_RIGHT_D / 2, depth=F_7060_RIGHT_DEPTH)
            with Locations((0, 0, -(F_7060_RIGHT_DEPTH + F_7060_RIGHT_TIP / 2))):  # 118° drill point
                Cone(0, F_7060_RIGHT_D / 2, F_7060_RIGHT_TIP, mode=Mode.SUBTRACT)


solid = part.part
